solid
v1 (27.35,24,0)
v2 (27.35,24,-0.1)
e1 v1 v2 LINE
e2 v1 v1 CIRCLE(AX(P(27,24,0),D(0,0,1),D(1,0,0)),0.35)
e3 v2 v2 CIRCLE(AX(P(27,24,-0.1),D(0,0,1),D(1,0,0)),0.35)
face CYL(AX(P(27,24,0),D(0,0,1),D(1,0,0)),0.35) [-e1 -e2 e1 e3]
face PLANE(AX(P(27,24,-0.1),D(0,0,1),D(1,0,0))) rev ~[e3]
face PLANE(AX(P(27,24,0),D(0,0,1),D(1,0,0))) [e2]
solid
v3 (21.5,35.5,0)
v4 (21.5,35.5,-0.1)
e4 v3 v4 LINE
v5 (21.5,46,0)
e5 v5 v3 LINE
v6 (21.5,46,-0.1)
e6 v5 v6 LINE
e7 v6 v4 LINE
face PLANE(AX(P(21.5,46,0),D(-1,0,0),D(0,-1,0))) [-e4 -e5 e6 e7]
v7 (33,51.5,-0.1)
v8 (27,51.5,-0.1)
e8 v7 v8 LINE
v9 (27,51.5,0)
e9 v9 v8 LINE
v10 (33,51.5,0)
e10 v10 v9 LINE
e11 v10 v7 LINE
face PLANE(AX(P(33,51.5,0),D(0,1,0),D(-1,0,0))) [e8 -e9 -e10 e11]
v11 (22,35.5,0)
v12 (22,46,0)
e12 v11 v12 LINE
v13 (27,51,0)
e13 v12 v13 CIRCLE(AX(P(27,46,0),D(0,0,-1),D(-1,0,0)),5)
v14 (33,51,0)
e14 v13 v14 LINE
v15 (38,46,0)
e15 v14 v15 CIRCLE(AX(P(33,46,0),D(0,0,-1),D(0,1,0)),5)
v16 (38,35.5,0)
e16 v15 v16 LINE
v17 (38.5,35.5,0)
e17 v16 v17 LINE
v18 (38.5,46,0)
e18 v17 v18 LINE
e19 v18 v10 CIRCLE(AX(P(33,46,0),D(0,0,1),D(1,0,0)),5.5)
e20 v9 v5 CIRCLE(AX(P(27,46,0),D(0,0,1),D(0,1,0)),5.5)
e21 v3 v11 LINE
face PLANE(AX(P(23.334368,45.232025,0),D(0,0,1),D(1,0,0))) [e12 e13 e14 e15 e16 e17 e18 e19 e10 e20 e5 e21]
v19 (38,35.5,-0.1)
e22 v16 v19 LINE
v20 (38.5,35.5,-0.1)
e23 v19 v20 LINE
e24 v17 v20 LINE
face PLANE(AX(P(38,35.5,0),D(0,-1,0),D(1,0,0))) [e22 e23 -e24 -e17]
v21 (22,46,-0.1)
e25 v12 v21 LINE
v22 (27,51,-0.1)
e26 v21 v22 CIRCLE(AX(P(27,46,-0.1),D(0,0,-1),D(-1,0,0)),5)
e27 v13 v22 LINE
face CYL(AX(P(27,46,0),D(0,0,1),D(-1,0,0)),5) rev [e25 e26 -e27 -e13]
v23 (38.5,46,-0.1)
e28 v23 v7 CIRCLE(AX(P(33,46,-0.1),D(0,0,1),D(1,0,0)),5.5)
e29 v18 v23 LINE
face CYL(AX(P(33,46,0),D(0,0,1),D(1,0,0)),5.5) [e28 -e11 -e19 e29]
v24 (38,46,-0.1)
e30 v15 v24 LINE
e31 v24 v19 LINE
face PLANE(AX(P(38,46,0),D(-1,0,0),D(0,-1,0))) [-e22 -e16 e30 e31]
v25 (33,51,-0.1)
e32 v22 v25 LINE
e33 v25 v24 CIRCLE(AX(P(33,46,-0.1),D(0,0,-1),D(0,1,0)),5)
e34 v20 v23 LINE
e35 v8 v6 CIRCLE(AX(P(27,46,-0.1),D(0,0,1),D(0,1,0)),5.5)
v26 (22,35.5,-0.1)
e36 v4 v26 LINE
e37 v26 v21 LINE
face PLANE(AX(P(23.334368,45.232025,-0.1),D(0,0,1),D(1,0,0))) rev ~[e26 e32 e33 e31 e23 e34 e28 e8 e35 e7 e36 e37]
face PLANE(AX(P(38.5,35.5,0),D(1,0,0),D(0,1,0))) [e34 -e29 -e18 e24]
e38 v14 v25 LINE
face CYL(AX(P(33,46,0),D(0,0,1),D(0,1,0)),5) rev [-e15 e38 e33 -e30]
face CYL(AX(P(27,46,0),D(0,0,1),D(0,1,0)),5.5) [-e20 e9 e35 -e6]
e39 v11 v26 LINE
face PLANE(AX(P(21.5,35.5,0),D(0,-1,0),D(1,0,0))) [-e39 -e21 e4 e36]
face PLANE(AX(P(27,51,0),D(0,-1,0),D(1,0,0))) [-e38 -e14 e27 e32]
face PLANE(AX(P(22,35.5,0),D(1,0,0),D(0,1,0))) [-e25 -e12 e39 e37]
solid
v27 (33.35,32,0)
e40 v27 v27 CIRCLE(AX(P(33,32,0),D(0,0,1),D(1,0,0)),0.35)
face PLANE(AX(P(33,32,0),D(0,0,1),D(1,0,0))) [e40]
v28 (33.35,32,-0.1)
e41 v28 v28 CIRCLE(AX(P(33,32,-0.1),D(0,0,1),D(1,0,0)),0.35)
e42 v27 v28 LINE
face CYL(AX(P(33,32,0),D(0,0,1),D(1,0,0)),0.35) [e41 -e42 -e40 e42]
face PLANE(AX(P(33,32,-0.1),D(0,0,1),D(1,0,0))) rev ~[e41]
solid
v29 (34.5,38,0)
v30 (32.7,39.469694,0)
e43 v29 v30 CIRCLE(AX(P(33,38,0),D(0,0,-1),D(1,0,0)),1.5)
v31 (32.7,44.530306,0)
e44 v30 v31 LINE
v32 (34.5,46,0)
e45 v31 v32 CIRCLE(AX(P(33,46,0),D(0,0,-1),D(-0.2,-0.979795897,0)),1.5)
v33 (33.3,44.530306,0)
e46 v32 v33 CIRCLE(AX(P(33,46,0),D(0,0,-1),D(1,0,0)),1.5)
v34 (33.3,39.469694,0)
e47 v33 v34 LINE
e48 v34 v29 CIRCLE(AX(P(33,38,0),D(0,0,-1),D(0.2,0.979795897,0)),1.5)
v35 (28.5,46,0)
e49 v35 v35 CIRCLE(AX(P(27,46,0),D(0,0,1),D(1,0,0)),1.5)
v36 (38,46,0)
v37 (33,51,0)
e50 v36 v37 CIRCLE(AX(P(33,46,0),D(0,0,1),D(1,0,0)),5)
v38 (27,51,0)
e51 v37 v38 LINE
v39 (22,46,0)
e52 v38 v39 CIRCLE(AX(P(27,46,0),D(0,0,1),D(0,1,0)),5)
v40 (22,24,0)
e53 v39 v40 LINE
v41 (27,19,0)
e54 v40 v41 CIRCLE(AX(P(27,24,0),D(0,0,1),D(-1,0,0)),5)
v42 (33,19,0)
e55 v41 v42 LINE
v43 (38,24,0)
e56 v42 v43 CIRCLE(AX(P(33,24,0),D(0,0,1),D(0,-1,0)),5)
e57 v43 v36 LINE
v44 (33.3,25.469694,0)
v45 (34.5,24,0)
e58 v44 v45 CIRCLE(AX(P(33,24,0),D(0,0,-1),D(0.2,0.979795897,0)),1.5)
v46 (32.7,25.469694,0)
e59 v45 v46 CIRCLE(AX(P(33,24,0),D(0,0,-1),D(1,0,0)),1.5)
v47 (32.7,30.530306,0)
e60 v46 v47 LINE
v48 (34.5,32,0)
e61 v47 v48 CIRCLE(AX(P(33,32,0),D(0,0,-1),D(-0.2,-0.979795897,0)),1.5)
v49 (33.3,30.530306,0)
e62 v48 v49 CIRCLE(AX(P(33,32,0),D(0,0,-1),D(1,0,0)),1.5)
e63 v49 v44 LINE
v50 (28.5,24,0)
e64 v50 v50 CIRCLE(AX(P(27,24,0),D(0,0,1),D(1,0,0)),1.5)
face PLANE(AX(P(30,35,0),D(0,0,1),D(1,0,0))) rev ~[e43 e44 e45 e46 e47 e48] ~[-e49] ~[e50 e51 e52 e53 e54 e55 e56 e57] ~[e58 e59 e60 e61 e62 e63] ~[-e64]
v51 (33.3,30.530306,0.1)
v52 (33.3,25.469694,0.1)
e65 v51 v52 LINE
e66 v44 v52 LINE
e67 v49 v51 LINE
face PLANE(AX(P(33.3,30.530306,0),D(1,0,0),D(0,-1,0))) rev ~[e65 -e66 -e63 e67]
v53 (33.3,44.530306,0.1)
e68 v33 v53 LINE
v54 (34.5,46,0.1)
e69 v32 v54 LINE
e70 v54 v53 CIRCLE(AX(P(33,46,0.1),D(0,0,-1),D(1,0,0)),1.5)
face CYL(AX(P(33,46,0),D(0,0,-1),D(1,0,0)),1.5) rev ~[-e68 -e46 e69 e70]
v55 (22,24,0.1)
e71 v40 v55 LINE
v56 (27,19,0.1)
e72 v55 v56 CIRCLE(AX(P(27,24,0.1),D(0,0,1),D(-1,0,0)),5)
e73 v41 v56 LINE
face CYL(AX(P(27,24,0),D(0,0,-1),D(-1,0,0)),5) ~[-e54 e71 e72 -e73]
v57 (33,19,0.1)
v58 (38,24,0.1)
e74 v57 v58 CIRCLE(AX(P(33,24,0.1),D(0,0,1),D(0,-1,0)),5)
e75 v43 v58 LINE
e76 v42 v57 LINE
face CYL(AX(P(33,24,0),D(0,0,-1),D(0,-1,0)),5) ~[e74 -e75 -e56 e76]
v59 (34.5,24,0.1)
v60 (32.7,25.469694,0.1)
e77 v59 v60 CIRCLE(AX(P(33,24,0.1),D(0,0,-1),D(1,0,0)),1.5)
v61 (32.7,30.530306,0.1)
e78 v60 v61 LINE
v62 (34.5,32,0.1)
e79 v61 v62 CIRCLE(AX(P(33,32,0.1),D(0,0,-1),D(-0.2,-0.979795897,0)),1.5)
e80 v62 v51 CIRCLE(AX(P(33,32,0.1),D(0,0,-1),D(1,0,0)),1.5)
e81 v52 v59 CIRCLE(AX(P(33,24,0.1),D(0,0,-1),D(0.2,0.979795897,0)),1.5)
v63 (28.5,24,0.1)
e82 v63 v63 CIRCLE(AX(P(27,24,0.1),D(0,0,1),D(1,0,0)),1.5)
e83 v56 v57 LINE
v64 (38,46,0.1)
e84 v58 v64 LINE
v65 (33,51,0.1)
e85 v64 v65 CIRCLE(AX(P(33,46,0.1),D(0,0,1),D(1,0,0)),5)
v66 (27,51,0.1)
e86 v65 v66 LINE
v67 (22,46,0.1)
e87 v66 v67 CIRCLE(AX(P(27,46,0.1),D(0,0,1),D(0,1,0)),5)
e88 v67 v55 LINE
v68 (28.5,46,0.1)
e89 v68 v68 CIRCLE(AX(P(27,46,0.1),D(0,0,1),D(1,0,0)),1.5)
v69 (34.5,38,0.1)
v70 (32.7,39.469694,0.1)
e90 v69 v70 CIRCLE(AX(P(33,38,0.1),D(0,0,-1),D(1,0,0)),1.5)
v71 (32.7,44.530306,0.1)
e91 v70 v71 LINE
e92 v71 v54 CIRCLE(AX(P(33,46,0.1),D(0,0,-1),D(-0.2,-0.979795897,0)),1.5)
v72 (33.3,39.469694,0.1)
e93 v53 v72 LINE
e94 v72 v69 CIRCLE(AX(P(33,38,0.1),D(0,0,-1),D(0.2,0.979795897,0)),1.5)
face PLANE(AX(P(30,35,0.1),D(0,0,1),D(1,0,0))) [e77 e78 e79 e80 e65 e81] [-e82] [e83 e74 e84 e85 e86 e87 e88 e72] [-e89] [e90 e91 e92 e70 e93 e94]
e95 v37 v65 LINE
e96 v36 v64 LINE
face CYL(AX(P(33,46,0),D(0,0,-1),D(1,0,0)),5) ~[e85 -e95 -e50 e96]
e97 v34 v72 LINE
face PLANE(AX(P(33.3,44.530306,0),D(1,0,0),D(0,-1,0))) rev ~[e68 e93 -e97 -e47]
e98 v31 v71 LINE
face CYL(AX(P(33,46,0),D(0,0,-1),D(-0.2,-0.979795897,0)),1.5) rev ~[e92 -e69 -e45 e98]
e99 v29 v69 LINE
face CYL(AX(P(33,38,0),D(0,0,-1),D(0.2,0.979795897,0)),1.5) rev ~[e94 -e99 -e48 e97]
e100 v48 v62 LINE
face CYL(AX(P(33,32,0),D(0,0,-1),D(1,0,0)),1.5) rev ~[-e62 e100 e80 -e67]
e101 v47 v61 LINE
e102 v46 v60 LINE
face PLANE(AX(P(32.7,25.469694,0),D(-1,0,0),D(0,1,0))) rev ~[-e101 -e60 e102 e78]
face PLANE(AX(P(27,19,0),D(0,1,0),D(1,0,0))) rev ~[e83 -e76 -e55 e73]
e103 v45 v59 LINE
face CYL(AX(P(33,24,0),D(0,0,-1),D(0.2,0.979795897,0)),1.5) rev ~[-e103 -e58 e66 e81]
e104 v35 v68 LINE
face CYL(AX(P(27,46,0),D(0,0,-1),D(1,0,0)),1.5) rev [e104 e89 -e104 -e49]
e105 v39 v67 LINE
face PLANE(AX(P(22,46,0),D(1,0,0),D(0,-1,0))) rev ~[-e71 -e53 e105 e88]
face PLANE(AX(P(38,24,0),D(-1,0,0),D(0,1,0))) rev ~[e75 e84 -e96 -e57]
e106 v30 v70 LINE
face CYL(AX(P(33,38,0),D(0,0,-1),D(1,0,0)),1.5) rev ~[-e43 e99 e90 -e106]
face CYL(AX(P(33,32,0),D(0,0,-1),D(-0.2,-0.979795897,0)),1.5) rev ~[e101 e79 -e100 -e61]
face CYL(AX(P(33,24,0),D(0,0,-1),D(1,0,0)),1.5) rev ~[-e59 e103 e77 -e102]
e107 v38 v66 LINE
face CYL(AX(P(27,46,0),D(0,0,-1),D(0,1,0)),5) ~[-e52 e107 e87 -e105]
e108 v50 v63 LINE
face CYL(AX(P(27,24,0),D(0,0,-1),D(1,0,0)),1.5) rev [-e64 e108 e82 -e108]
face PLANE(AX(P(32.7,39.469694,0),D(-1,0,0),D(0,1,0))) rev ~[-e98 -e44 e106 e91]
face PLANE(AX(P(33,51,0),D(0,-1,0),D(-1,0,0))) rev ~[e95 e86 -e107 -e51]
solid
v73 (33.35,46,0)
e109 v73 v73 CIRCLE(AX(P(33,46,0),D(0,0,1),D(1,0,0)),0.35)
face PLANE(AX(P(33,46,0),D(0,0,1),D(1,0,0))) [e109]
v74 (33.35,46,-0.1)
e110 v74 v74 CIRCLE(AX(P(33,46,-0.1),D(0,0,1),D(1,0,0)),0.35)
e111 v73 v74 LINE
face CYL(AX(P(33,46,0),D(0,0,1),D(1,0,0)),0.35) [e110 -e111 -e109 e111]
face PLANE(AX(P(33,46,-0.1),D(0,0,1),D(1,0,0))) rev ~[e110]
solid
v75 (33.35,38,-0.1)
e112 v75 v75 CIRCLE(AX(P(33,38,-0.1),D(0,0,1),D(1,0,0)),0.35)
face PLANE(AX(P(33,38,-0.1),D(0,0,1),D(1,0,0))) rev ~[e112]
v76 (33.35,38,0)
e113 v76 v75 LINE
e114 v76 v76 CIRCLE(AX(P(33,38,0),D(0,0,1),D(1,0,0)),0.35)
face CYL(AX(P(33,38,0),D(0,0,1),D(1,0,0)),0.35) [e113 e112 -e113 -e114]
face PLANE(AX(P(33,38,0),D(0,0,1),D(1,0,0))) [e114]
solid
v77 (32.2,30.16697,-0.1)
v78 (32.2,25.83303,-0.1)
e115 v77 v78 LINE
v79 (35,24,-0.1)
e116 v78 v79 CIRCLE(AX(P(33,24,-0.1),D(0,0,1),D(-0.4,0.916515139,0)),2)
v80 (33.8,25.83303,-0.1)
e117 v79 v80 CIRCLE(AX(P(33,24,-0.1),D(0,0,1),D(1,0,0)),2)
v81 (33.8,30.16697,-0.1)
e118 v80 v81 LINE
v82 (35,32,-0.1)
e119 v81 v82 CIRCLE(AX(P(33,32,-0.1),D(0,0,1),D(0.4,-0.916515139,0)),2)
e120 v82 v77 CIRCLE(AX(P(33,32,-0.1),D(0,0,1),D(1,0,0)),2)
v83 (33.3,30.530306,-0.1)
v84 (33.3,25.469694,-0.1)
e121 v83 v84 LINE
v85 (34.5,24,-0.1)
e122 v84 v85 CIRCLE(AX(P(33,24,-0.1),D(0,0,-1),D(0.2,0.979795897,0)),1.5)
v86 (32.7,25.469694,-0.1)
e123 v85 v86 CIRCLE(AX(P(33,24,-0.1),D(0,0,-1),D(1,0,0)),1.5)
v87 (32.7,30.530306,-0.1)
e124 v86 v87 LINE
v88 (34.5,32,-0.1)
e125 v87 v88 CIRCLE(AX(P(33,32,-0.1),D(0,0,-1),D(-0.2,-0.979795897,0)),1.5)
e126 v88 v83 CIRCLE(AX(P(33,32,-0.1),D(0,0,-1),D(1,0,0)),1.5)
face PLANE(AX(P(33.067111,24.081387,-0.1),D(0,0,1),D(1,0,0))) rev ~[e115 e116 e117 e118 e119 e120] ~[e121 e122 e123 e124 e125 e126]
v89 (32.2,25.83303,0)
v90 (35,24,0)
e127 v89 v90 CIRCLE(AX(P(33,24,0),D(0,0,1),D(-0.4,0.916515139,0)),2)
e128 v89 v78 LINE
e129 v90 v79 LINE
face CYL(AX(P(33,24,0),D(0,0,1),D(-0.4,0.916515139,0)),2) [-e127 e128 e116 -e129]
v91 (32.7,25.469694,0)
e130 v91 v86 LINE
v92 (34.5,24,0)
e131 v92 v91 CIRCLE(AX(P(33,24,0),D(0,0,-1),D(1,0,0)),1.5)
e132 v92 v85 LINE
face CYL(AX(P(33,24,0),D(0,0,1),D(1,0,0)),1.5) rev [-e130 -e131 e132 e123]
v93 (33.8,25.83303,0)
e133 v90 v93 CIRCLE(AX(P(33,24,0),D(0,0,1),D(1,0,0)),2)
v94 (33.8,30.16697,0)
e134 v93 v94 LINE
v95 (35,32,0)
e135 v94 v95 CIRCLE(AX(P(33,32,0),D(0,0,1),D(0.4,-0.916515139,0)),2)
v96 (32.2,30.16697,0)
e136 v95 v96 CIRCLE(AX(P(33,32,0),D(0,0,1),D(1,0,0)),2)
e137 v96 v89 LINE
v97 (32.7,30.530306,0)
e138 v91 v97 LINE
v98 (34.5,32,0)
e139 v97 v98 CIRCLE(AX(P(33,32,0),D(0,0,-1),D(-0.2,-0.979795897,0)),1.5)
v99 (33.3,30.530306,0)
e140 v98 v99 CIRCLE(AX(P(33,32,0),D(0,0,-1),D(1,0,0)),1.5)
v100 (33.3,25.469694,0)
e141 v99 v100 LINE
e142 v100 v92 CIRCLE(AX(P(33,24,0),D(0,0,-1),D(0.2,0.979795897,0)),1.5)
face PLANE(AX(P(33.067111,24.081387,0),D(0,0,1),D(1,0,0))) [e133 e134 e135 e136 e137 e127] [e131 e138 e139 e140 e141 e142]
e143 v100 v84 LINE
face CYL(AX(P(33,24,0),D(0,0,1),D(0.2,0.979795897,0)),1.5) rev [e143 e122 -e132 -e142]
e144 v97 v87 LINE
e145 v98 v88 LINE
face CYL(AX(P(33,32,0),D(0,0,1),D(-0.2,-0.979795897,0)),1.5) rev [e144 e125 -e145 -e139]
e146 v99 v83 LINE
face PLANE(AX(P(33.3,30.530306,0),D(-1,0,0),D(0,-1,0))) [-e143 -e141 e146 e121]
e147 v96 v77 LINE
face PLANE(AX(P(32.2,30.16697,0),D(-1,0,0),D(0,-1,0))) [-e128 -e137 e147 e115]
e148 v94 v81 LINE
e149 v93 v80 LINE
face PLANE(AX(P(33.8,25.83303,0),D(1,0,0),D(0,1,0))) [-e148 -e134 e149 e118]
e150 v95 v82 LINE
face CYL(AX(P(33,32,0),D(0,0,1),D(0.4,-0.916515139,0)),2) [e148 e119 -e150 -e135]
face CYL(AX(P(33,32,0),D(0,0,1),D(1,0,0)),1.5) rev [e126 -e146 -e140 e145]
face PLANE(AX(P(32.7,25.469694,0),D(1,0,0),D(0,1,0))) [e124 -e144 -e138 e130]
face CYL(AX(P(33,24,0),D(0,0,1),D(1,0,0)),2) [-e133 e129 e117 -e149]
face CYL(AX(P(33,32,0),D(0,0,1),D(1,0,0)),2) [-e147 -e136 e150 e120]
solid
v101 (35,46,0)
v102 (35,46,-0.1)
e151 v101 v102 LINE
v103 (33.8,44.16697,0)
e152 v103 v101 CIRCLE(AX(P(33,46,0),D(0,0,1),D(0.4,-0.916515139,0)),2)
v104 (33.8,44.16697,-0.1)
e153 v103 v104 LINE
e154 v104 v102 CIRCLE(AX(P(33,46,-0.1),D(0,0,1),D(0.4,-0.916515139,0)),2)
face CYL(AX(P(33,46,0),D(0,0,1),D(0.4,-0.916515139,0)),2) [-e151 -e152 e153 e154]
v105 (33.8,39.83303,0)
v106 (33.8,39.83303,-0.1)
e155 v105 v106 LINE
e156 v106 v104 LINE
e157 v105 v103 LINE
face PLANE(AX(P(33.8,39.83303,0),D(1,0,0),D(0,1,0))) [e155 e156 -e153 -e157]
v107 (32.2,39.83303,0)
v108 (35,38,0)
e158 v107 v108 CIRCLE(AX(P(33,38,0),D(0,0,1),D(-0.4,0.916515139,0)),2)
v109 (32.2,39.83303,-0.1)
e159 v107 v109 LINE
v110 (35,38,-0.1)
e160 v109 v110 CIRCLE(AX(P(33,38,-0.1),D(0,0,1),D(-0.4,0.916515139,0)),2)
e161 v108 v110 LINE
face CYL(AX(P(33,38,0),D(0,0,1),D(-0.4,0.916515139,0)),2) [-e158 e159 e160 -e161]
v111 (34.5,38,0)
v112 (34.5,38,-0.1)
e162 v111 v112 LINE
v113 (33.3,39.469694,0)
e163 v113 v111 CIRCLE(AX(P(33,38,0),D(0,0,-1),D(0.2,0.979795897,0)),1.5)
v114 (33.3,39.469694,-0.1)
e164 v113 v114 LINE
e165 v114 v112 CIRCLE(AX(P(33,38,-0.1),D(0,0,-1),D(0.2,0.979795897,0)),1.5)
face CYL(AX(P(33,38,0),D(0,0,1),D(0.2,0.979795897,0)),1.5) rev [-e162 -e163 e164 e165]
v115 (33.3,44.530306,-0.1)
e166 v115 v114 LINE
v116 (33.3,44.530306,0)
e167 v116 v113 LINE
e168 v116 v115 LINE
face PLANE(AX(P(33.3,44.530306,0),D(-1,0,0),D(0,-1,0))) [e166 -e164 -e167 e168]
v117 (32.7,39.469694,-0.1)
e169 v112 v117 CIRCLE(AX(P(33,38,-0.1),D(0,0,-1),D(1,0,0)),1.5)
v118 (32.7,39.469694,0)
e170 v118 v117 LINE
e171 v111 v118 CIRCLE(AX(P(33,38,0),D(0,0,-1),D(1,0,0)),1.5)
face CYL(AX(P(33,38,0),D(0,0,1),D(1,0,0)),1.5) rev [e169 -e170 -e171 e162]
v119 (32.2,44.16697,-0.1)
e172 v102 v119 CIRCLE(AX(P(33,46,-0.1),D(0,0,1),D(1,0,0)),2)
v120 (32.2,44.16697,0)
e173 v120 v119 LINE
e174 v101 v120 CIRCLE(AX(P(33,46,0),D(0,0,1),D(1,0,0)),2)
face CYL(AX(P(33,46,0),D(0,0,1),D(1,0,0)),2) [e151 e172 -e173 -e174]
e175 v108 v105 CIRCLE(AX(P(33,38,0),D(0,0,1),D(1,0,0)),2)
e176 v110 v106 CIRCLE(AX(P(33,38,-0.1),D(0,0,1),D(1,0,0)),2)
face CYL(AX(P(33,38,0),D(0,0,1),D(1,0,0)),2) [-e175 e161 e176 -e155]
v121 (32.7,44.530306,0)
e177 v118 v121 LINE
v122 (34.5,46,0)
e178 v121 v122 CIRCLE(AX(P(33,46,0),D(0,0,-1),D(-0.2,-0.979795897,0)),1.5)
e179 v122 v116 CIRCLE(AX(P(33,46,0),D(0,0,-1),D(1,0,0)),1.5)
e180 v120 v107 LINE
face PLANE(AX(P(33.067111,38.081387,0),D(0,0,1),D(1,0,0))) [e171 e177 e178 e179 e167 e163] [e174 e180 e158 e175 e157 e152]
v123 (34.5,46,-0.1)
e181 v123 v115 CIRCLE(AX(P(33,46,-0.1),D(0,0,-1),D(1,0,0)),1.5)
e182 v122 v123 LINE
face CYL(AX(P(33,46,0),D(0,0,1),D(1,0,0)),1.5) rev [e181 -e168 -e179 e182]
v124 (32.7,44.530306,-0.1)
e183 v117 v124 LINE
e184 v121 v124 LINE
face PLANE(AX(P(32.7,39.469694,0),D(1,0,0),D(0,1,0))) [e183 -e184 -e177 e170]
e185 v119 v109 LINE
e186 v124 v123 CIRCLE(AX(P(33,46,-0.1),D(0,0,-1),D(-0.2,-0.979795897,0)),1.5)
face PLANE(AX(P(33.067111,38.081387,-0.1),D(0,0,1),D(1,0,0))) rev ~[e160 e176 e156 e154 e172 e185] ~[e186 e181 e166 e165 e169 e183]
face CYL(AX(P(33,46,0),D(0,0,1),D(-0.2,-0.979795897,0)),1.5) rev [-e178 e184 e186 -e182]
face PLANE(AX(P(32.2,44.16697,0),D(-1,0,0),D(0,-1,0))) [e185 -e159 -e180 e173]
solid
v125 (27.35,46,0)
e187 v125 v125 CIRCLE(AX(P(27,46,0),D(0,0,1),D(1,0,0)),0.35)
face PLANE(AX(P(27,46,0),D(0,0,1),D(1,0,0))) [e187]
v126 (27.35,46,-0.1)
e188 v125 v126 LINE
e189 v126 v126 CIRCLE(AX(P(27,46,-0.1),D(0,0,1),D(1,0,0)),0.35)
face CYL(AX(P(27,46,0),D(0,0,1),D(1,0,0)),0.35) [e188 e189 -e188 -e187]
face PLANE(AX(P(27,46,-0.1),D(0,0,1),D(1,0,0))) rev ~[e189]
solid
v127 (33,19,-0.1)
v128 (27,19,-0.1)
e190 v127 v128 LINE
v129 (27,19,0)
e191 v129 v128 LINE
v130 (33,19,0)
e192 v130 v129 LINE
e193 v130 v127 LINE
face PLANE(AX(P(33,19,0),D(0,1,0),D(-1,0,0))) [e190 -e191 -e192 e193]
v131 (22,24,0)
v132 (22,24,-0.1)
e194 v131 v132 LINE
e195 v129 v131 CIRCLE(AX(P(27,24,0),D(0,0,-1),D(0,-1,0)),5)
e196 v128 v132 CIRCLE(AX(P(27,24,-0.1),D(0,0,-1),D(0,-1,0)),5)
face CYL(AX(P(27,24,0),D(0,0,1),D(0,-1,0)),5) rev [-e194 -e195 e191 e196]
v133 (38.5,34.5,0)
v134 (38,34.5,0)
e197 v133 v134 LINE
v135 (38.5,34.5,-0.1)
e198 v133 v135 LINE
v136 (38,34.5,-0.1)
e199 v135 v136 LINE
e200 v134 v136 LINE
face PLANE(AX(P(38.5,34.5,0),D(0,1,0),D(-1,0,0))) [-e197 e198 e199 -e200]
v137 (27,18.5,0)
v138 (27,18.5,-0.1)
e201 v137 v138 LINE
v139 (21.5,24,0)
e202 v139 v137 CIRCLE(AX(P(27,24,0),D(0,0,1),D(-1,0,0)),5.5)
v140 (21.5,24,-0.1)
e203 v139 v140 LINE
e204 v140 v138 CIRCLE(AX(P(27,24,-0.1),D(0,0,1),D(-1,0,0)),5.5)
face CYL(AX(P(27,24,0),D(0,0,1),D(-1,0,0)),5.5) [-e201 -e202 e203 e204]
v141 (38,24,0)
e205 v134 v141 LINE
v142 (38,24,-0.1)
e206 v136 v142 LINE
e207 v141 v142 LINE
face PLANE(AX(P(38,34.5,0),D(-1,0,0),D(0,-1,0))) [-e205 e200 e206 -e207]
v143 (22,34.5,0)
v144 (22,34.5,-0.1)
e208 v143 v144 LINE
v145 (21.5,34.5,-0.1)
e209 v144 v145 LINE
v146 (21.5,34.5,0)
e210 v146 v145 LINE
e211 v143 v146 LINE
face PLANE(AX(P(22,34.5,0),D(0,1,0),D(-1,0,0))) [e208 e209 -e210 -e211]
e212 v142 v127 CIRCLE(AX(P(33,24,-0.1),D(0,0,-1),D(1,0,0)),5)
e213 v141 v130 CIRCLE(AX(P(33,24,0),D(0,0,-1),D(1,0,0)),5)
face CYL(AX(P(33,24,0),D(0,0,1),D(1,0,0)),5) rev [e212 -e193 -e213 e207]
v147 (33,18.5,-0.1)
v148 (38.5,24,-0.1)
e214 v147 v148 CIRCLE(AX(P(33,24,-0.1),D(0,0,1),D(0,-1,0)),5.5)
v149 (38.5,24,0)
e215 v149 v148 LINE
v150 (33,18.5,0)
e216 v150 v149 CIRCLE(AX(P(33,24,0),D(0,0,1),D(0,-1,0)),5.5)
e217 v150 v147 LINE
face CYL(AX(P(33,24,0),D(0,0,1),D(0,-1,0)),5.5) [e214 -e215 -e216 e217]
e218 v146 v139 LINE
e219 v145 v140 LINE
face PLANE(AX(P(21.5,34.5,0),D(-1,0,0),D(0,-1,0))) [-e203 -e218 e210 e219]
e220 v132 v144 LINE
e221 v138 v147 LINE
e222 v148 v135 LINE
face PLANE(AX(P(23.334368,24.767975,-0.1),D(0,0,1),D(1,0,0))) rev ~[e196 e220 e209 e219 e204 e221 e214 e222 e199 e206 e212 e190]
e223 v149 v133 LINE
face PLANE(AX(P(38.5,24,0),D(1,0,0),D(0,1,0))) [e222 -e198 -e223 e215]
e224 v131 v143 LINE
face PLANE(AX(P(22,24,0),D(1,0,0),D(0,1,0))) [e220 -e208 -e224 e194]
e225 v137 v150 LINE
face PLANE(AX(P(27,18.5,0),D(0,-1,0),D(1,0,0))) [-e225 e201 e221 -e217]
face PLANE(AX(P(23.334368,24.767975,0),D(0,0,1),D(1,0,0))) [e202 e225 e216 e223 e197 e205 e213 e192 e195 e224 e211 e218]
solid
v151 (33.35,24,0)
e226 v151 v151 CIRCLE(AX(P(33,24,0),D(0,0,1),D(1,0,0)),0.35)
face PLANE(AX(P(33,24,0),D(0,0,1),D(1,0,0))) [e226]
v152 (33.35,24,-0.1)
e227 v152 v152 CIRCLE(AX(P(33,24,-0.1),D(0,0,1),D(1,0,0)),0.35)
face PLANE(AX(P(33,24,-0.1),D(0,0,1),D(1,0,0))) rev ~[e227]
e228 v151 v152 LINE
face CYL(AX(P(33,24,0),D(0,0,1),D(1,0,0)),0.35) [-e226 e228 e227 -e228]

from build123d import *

# Parameters (mm, degrees)
F1_DEPTH = 0.1
F0_W     = 1
F0_H     = 0.5
F2_DEPTH = 0.1
F0_R     = 0.35
F3_DEPTH = 0.1
F0_R_2   = 1.5
F4_DEPTH = 0.1


with BuildPart() as f1:
    # F0 (on Top) → F1 (new body)
    with BuildSketch(Plane.XY):
        with BuildLine():
            ThreePointArc((33.3, 25.4696938457), (34.1618950039, 24.9486832981), (34.5, 24))
            ThreePointArc((34.5, 24), (32.0513167019, 22.8381049961), (32.7, 25.4696938457))
            Line((32.7, 25.4696938457), (32.7, 25.9773719933))
            ThreePointArc((32.7, 25.9773719933), (32.4452850888, 25.9215335978), (32.2, 25.833030278))
            ThreePointArc((32.2, 25.833030278), (31.904554885, 22.3266799469), (35, 24))
            ThreePointArc((35, 24), (34.6733200531, 25.095445115), (33.8, 25.833030278))
            ThreePointArc((33.8, 25.833030278), (33.5547149112, 25.9215335978), (33.3, 25.9773719933))
            Line((33.3, 25.9773719933), (33.3, 25.4696938457))
        make_face()
        with BuildLine():
            ThreePointArc((32.2, 25.833030278), (32.4452850888, 25.9215335978), (32.7, 25.9773719933))
            Line((32.7, 25.9773719933), (32.7, 30.0226280067))
            ThreePointArc((32.7, 30.0226280067), (32.4452850888, 30.0784664022), (32.2, 30.166969722))
            Line((32.2, 30.166969722), (32.2, 25.833030278))
        make_face()
        with BuildLine():
            Line((33.3, 30.5303061543), (33.3, 30.0226280067))
            ThreePointArc((33.3, 30.0226280067), (33.5547149112, 30.0784664022), (33.8, 30.166969722))
            ThreePointArc((33.8, 30.166969722), (34.6733200531, 30.904554885), (35, 32))
            ThreePointArc((35, 32), (31.904554885, 33.6733200531), (32.2, 30.166969722))
            ThreePointArc((32.2, 30.166969722), (32.4452850888, 30.0784664022), (32.7, 30.0226280067))
            Line((32.7, 30.0226280067), (32.7, 30.5303061543))
            ThreePointArc((32.7, 30.5303061543), (32.0513167019, 33.1618950039), (34.5, 32))
            ThreePointArc((34.5, 32), (34.1618950039, 31.0513167019), (33.3, 30.5303061543))
        make_face()
        with BuildLine():
            Line((33.3, 30.0226280067), (33.3, 25.9773719933))
            ThreePointArc((33.3, 25.9773719933), (33.5547149112, 25.9215335978), (33.8, 25.833030278))
            Line((33.8, 25.833030278), (33.8, 30.166969722))
            ThreePointArc((33.8, 30.166969722), (33.5547149112, 30.0784664022), (33.3, 30.0226280067))
        make_face()
    extrude(amount=-F1_DEPTH)


with BuildPart() as f1b:
    # F0 (on Top) → F1, piece 2 (new body)
    with BuildSketch(Plane.XY):
        with BuildLine():
            ThreePointArc((33.3, 39.4696938457), (34.1618950039, 38.9486832981), (34.5, 38))
            ThreePointArc((34.5, 38), (32.0513167019, 36.8381049961), (32.7, 39.4696938457))
            Line((32.7, 39.4696938457), (32.7, 39.9773719933))
            ThreePointArc((32.7, 39.9773719933), (32.4452850888, 39.9215335978), (32.2, 39.833030278))
            ThreePointArc((32.2, 39.833030278), (31.904554885, 36.3266799469), (35, 38))
            ThreePointArc((35, 38), (34.6733200531, 39.095445115), (33.8, 39.833030278))
            ThreePointArc((33.8, 39.833030278), (33.5547149112, 39.9215335978), (33.3, 39.9773719933))
            Line((33.3, 39.9773719933), (33.3, 39.4696938457))
        make_face()
        with BuildLine():
            ThreePointArc((32.2, 39.833030278), (32.4452850888, 39.9215335978), (32.7, 39.9773719933))
            Line((32.7, 39.9773719933), (32.7, 44.0226280067))
            ThreePointArc((32.7, 44.0226280067), (32.4452850888, 44.0784664022), (32.2, 44.166969722))
            Line((32.2, 44.166969722), (32.2, 39.833030278))
        make_face()
        with BuildLine():
            Line((33.3, 44.5303061543), (33.3, 44.0226280067))
            ThreePointArc((33.3, 44.0226280067), (33.5547149112, 44.0784664022), (33.8, 44.166969722))
            ThreePointArc((33.8, 44.166969722), (34.6733200531, 44.904554885), (35, 46))
            ThreePointArc((35, 46), (31.904554885, 47.6733200531), (32.2, 44.166969722))
            ThreePointArc((32.2, 44.166969722), (32.4452850888, 44.0784664022), (32.7, 44.0226280067))
            Line((32.7, 44.0226280067), (32.7, 44.5303061543))
            ThreePointArc((32.7, 44.5303061543), (32.0513167019, 47.1618950039), (34.5, 46))
            ThreePointArc((34.5, 46), (34.1618950039, 45.0513167019), (33.3, 44.5303061543))
        make_face()
        with BuildLine():
            Line((33.3, 44.0226280067), (33.3, 39.9773719933))
            ThreePointArc((33.3, 39.9773719933), (33.5547149112, 39.9215335978), (33.8, 39.833030278))
            Line((33.8, 39.833030278), (33.8, 44.166969722))
            ThreePointArc((33.8, 44.166969722), (33.5547149112, 44.0784664022), (33.3, 44.0226280067))
        make_face()
    extrude(amount=-F1_DEPTH)


with BuildPart() as f2:
    # F0 (on Top) → F2 (new body)
    with BuildSketch(Plane.XY):
        with BuildLine():
            ThreePointArc((22, 46), (23.4644660941, 49.5355339059), (27, 51))
            Line((27, 51), (29.5, 51))
            Line((29.5, 51), (29.5, 51.5))
            Line((29.5, 51.5), (27, 51.5))
            ThreePointArc((27, 51.5), (23.1109127035, 49.8890872965), (21.5, 46))
            Line((21.5, 46), (21.5, 35.5))
            Line((21.5, 35.5), (22, 35.5))
            Line((22, 35.5), (22, 46))
        make_face()
        with BuildLine():
            Line((30.5, 51.5), (30.5, 51))
            Line((30.5, 51), (33, 51))
            ThreePointArc((33, 51), (36.5355339059, 49.5355339059), (38, 46))
            Line((38, 46), (38, 35.5))
            Line((38, 35.5), (38.5, 35.5))
            Line((38.5, 35.5), (38.5, 46))
            ThreePointArc((38.5, 46), (36.8890872965, 49.8890872965), (33, 51.5))
            Line((33, 51.5), (30.5, 51.5))
        make_face()
        with Locations((30, 51.25)):
            Rectangle(F0_W, F0_H)
    extrude(amount=-F2_DEPTH)


with BuildPart() as f2b:
    # F0 (on Top) → F2, piece 2 (new body)
    with BuildSketch(Plane.XY):
        with BuildLine():
            Line((22, 24), (22, 34.5))
            Line((22, 34.5), (21.5, 34.5))
            Line((21.5, 34.5), (21.5, 24))
            ThreePointArc((21.5, 24), (23.1109127035, 20.1109127035), (27, 18.5))
            Line((27, 18.5), (29.5, 18.5))
            Line((29.5, 18.5), (29.5, 19))
            Line((29.5, 19), (27, 19))
            ThreePointArc((27, 19), (23.4644660941, 20.4644660941), (22, 24))
        make_face()
        with BuildLine():
            Line((38.5, 34.5), (38, 34.5))
            Line((38, 34.5), (38, 24))
            ThreePointArc((38, 24), (36.5355339059, 20.4644660941), (33, 19))
            Line((33, 19), (30.5, 19))
            Line((30.5, 19), (30.5, 18.5))
            Line((30.5, 18.5), (33, 18.5))
            ThreePointArc((33, 18.5), (36.8890872965, 20.1109127035), (38.5, 24))
            Line((38.5, 24), (38.5, 34.5))
        make_face()
        with Locations((30, 18.75)):
            Rectangle(F0_W, F0_H)
    extrude(amount=-F2_DEPTH)


with BuildPart() as f3:
    # F0 (on Top) → F3 (new body)
    with BuildSketch(Plane.XY):
        with Locations((33, 46)):
            Circle(F0_R)
    extrude(amount=-F3_DEPTH)


with BuildPart() as f3b:
    # F0 (on Top) → F3, piece 2 (new body)
    with BuildSketch(Plane.XY):
        with Locations((33, 38)):
            Circle(F0_R)
    extrude(amount=-F3_DEPTH)


with BuildPart() as f3c:
    # F0 (on Top) → F3, piece 3 (new body)
    with BuildSketch(Plane.XY):
        with Locations((33, 32)):
            Circle(F0_R)
    extrude(amount=-F3_DEPTH)


with BuildPart() as f3d:
    # F0 (on Top) → F3, piece 4 (new body)
    with BuildSketch(Plane.XY):
        with Locations((33, 24)):
            Circle(F0_R)
    extrude(amount=-F3_DEPTH)


with BuildPart() as f3e:
    # F0 (on Top) → F3, piece 5 (new body)
    with BuildSketch(Plane.XY):
        with Locations((27, 24)):
            Circle(F0_R)
    extrude(amount=-F3_DEPTH)


with BuildPart() as f3f:
    # F0 (on Top) → F3, piece 6 (new body)
    with BuildSketch(Plane.XY):
        with Locations((27, 46)):
            Circle(F0_R)
    extrude(amount=-F3_DEPTH)


with BuildPart() as f4:
    # F0 (on Top) → F4 (new body)
    with BuildSketch(Plane.XY):
        with BuildLine():
            Line((29.5, 51), (27, 51))
            ThreePointArc((27, 51), (23.4644660941, 49.5355339059), (22, 46))
            Line((22, 46), (22, 35.5))
            Line((22, 35.5), (22, 34.5))
            Line((22, 34.5), (22, 24))
            ThreePointArc((22, 24), (23.4644660941, 20.4644660941), (27, 19))
            Line((27, 19), (29.5, 19))
            Line((29.5, 19), (30.5, 19))
            Line((30.5, 19), (33, 19))
            ThreePointArc((33, 19), (36.5355339059, 20.4644660941), (38, 24))
            Line((38, 24), (38, 34.5))
            Line((38, 34.5), (38, 35.5))
            Line((38, 35.5), (38, 46))
            ThreePointArc((38, 46), (36.5355339059, 49.5355339059), (33, 51))
            Line((33, 51), (30.5, 51))
            Line((30.5, 51), (29.5, 51))
        make_face()
        with Locations((27, 24)):
            Circle(F0_R_2, mode=Mode.SUBTRACT)
        with BuildLine():
            Line((33.8, 30.166969722), (33.8, 25.833030278))
            ThreePointArc((33.8, 25.833030278), (34.6733200531, 25.095445115), (35, 24))
            ThreePointArc((35, 24), (31.904554885, 22.3266799469), (32.2, 25.833030278))
            Line((32.2, 25.833030278), (32.2, 30.166969722))
            ThreePointArc((32.2, 30.166969722), (31.904554885, 33.6733200531), (35, 32))
            ThreePointArc((35, 32), (34.6733200531, 30.904554885), (33.8, 30.166969722))
        make_face(mode=Mode.SUBTRACT)
        with BuildLine():
            Line((33.8, 44.166969722), (33.8, 39.833030278))
            ThreePointArc((33.8, 39.833030278), (34.6733200531, 39.095445115), (35, 38))
            ThreePointArc((35, 38), (31.904554885, 36.3266799469), (32.2, 39.833030278))
            Line((32.2, 39.833030278), (32.2, 44.166969722))
            ThreePointArc((32.2, 44.166969722), (31.904554885, 47.6733200531), (35, 46))
            ThreePointArc((35, 46), (34.6733200531, 44.904554885), (33.8, 44.166969722))
        make_face(mode=Mode.SUBTRACT)
        with Locations((27, 46)):
            Circle(F0_R_2, mode=Mode.SUBTRACT)
        with BuildLine():
            Line((33.3, 44.5303061543), (33.3, 44.0226280067))
            ThreePointArc((33.3, 44.0226280067), (33.5547149112, 44.0784664022), (33.8, 44.166969722))
            ThreePointArc((33.8, 44.166969722), (34.6733200531, 44.904554885), (35, 46))
            ThreePointArc((35, 46), (31.904554885, 47.6733200531), (32.2, 44.166969722))
            ThreePointArc((32.2, 44.166969722), (32.4452850888, 44.0784664022), (32.7, 44.0226280067))
            Line((32.7, 44.0226280067), (32.7, 44.5303061543))
            ThreePointArc((32.7, 44.5303061543), (32.0513167019, 47.1618950039), (34.5, 46))
            ThreePointArc((34.5, 46), (34.1618950039, 45.0513167019), (33.3, 44.5303061543))
        make_face()
        with BuildLine():
            ThreePointArc((32.2, 39.833030278), (32.4452850888, 39.9215335978), (32.7, 39.9773719933))
            Line((32.7, 39.9773719933), (32.7, 44.0226280067))
            ThreePointArc((32.7, 44.0226280067), (32.4452850888, 44.0784664022), (32.2, 44.166969722))
            Line((32.2, 44.166969722), (32.2, 39.833030278))
        make_face()
        with BuildLine():
            Line((33.3, 44.0226280067), (33.3, 39.9773719933))
            ThreePointArc((33.3, 39.9773719933), (33.5547149112, 39.9215335978), (33.8, 39.833030278))
            Line((33.8, 39.833030278), (33.8, 44.166969722))
            ThreePointArc((33.8, 44.166969722), (33.5547149112, 44.0784664022), (33.3, 44.0226280067))
        make_face()
        with BuildLine():
            ThreePointArc((33.3, 39.4696938457), (34.1618950039, 38.9486832981), (34.5, 38))
            ThreePointArc((34.5, 38), (32.0513167019, 36.8381049961), (32.7, 39.4696938457))
            Line((32.7, 39.4696938457), (32.7, 39.9773719933))
            ThreePointArc((32.7, 39.9773719933), (32.4452850888, 39.9215335978), (32.2, 39.833030278))
            ThreePointArc((32.2, 39.833030278), (31.904554885, 36.3266799469), (35, 38))
            ThreePointArc((35, 38), (34.6733200531, 39.095445115), (33.8, 39.833030278))
            ThreePointArc((33.8, 39.833030278), (33.5547149112, 39.9215335978), (33.3, 39.9773719933))
            Line((33.3, 39.9773719933), (33.3, 39.4696938457))
        make_face()
        with BuildLine():
            Line((33.3, 30.5303061543), (33.3, 30.0226280067))
            ThreePointArc((33.3, 30.0226280067), (33.5547149112, 30.0784664022), (33.8, 30.166969722))
            ThreePointArc((33.8, 30.166969722), (34.6733200531, 30.904554885), (35, 32))
            ThreePointArc((35, 32), (31.904554885, 33.6733200531), (32.2, 30.166969722))
            ThreePointArc((32.2, 30.166969722), (32.4452850888, 30.0784664022), (32.7, 30.0226280067))
            Line((32.7, 30.0226280067), (32.7, 30.5303061543))
            ThreePointArc((32.7, 30.5303061543), (32.0513167019, 33.1618950039), (34.5, 32))
            ThreePointArc((34.5, 32), (34.1618950039, 31.0513167019), (33.3, 30.5303061543))
        make_face()
        with BuildLine():
            ThreePointArc((32.2, 25.833030278), (32.4452850888, 25.9215335978), (32.7, 25.9773719933))
            Line((32.7, 25.9773719933), (32.7, 30.0226280067))
            ThreePointArc((32.7, 30.0226280067), (32.4452850888, 30.0784664022), (32.2, 30.166969722))
            Line((32.2, 30.166969722), (32.2, 25.833030278))
        make_face()
        with BuildLine():
            Line((33.3, 30.0226280067), (33.3, 25.9773719933))
            ThreePointArc((33.3, 25.9773719933), (33.5547149112, 25.9215335978), (33.8, 25.833030278))
            Line((33.8, 25.833030278), (33.8, 30.166969722))
            ThreePointArc((33.8, 30.166969722), (33.5547149112, 30.0784664022), (33.3, 30.0226280067))
        make_face()
        with BuildLine():
            ThreePointArc((33.3, 25.4696938457), (34.1618950039, 24.9486832981), (34.5, 24))
            ThreePointArc((34.5, 24), (32.0513167019, 22.8381049961), (32.7, 25.4696938457))
            Line((32.7, 25.4696938457), (32.7, 25.9773719933))
            ThreePointArc((32.7, 25.9773719933), (32.4452850888, 25.9215335978), (32.2, 25.833030278))
            ThreePointArc((32.2, 25.833030278), (31.904554885, 22.3266799469), (35, 24))
            ThreePointArc((35, 24), (34.6733200531, 25.095445115), (33.8, 25.833030278))
            ThreePointArc((33.8, 25.833030278), (33.5547149112, 25.9215335978), (33.3, 25.9773719933))
            Line((33.3, 25.9773719933), (33.3, 25.4696938457))
        make_face()
    extrude(amount=F4_DEPTH)


solid = Compound([f1.part, f1b.part, f2.part, f2b.part, f3.part, f3b.part, f3c.part, f3d.part, f3e.part, f3f.part, f4.part])
